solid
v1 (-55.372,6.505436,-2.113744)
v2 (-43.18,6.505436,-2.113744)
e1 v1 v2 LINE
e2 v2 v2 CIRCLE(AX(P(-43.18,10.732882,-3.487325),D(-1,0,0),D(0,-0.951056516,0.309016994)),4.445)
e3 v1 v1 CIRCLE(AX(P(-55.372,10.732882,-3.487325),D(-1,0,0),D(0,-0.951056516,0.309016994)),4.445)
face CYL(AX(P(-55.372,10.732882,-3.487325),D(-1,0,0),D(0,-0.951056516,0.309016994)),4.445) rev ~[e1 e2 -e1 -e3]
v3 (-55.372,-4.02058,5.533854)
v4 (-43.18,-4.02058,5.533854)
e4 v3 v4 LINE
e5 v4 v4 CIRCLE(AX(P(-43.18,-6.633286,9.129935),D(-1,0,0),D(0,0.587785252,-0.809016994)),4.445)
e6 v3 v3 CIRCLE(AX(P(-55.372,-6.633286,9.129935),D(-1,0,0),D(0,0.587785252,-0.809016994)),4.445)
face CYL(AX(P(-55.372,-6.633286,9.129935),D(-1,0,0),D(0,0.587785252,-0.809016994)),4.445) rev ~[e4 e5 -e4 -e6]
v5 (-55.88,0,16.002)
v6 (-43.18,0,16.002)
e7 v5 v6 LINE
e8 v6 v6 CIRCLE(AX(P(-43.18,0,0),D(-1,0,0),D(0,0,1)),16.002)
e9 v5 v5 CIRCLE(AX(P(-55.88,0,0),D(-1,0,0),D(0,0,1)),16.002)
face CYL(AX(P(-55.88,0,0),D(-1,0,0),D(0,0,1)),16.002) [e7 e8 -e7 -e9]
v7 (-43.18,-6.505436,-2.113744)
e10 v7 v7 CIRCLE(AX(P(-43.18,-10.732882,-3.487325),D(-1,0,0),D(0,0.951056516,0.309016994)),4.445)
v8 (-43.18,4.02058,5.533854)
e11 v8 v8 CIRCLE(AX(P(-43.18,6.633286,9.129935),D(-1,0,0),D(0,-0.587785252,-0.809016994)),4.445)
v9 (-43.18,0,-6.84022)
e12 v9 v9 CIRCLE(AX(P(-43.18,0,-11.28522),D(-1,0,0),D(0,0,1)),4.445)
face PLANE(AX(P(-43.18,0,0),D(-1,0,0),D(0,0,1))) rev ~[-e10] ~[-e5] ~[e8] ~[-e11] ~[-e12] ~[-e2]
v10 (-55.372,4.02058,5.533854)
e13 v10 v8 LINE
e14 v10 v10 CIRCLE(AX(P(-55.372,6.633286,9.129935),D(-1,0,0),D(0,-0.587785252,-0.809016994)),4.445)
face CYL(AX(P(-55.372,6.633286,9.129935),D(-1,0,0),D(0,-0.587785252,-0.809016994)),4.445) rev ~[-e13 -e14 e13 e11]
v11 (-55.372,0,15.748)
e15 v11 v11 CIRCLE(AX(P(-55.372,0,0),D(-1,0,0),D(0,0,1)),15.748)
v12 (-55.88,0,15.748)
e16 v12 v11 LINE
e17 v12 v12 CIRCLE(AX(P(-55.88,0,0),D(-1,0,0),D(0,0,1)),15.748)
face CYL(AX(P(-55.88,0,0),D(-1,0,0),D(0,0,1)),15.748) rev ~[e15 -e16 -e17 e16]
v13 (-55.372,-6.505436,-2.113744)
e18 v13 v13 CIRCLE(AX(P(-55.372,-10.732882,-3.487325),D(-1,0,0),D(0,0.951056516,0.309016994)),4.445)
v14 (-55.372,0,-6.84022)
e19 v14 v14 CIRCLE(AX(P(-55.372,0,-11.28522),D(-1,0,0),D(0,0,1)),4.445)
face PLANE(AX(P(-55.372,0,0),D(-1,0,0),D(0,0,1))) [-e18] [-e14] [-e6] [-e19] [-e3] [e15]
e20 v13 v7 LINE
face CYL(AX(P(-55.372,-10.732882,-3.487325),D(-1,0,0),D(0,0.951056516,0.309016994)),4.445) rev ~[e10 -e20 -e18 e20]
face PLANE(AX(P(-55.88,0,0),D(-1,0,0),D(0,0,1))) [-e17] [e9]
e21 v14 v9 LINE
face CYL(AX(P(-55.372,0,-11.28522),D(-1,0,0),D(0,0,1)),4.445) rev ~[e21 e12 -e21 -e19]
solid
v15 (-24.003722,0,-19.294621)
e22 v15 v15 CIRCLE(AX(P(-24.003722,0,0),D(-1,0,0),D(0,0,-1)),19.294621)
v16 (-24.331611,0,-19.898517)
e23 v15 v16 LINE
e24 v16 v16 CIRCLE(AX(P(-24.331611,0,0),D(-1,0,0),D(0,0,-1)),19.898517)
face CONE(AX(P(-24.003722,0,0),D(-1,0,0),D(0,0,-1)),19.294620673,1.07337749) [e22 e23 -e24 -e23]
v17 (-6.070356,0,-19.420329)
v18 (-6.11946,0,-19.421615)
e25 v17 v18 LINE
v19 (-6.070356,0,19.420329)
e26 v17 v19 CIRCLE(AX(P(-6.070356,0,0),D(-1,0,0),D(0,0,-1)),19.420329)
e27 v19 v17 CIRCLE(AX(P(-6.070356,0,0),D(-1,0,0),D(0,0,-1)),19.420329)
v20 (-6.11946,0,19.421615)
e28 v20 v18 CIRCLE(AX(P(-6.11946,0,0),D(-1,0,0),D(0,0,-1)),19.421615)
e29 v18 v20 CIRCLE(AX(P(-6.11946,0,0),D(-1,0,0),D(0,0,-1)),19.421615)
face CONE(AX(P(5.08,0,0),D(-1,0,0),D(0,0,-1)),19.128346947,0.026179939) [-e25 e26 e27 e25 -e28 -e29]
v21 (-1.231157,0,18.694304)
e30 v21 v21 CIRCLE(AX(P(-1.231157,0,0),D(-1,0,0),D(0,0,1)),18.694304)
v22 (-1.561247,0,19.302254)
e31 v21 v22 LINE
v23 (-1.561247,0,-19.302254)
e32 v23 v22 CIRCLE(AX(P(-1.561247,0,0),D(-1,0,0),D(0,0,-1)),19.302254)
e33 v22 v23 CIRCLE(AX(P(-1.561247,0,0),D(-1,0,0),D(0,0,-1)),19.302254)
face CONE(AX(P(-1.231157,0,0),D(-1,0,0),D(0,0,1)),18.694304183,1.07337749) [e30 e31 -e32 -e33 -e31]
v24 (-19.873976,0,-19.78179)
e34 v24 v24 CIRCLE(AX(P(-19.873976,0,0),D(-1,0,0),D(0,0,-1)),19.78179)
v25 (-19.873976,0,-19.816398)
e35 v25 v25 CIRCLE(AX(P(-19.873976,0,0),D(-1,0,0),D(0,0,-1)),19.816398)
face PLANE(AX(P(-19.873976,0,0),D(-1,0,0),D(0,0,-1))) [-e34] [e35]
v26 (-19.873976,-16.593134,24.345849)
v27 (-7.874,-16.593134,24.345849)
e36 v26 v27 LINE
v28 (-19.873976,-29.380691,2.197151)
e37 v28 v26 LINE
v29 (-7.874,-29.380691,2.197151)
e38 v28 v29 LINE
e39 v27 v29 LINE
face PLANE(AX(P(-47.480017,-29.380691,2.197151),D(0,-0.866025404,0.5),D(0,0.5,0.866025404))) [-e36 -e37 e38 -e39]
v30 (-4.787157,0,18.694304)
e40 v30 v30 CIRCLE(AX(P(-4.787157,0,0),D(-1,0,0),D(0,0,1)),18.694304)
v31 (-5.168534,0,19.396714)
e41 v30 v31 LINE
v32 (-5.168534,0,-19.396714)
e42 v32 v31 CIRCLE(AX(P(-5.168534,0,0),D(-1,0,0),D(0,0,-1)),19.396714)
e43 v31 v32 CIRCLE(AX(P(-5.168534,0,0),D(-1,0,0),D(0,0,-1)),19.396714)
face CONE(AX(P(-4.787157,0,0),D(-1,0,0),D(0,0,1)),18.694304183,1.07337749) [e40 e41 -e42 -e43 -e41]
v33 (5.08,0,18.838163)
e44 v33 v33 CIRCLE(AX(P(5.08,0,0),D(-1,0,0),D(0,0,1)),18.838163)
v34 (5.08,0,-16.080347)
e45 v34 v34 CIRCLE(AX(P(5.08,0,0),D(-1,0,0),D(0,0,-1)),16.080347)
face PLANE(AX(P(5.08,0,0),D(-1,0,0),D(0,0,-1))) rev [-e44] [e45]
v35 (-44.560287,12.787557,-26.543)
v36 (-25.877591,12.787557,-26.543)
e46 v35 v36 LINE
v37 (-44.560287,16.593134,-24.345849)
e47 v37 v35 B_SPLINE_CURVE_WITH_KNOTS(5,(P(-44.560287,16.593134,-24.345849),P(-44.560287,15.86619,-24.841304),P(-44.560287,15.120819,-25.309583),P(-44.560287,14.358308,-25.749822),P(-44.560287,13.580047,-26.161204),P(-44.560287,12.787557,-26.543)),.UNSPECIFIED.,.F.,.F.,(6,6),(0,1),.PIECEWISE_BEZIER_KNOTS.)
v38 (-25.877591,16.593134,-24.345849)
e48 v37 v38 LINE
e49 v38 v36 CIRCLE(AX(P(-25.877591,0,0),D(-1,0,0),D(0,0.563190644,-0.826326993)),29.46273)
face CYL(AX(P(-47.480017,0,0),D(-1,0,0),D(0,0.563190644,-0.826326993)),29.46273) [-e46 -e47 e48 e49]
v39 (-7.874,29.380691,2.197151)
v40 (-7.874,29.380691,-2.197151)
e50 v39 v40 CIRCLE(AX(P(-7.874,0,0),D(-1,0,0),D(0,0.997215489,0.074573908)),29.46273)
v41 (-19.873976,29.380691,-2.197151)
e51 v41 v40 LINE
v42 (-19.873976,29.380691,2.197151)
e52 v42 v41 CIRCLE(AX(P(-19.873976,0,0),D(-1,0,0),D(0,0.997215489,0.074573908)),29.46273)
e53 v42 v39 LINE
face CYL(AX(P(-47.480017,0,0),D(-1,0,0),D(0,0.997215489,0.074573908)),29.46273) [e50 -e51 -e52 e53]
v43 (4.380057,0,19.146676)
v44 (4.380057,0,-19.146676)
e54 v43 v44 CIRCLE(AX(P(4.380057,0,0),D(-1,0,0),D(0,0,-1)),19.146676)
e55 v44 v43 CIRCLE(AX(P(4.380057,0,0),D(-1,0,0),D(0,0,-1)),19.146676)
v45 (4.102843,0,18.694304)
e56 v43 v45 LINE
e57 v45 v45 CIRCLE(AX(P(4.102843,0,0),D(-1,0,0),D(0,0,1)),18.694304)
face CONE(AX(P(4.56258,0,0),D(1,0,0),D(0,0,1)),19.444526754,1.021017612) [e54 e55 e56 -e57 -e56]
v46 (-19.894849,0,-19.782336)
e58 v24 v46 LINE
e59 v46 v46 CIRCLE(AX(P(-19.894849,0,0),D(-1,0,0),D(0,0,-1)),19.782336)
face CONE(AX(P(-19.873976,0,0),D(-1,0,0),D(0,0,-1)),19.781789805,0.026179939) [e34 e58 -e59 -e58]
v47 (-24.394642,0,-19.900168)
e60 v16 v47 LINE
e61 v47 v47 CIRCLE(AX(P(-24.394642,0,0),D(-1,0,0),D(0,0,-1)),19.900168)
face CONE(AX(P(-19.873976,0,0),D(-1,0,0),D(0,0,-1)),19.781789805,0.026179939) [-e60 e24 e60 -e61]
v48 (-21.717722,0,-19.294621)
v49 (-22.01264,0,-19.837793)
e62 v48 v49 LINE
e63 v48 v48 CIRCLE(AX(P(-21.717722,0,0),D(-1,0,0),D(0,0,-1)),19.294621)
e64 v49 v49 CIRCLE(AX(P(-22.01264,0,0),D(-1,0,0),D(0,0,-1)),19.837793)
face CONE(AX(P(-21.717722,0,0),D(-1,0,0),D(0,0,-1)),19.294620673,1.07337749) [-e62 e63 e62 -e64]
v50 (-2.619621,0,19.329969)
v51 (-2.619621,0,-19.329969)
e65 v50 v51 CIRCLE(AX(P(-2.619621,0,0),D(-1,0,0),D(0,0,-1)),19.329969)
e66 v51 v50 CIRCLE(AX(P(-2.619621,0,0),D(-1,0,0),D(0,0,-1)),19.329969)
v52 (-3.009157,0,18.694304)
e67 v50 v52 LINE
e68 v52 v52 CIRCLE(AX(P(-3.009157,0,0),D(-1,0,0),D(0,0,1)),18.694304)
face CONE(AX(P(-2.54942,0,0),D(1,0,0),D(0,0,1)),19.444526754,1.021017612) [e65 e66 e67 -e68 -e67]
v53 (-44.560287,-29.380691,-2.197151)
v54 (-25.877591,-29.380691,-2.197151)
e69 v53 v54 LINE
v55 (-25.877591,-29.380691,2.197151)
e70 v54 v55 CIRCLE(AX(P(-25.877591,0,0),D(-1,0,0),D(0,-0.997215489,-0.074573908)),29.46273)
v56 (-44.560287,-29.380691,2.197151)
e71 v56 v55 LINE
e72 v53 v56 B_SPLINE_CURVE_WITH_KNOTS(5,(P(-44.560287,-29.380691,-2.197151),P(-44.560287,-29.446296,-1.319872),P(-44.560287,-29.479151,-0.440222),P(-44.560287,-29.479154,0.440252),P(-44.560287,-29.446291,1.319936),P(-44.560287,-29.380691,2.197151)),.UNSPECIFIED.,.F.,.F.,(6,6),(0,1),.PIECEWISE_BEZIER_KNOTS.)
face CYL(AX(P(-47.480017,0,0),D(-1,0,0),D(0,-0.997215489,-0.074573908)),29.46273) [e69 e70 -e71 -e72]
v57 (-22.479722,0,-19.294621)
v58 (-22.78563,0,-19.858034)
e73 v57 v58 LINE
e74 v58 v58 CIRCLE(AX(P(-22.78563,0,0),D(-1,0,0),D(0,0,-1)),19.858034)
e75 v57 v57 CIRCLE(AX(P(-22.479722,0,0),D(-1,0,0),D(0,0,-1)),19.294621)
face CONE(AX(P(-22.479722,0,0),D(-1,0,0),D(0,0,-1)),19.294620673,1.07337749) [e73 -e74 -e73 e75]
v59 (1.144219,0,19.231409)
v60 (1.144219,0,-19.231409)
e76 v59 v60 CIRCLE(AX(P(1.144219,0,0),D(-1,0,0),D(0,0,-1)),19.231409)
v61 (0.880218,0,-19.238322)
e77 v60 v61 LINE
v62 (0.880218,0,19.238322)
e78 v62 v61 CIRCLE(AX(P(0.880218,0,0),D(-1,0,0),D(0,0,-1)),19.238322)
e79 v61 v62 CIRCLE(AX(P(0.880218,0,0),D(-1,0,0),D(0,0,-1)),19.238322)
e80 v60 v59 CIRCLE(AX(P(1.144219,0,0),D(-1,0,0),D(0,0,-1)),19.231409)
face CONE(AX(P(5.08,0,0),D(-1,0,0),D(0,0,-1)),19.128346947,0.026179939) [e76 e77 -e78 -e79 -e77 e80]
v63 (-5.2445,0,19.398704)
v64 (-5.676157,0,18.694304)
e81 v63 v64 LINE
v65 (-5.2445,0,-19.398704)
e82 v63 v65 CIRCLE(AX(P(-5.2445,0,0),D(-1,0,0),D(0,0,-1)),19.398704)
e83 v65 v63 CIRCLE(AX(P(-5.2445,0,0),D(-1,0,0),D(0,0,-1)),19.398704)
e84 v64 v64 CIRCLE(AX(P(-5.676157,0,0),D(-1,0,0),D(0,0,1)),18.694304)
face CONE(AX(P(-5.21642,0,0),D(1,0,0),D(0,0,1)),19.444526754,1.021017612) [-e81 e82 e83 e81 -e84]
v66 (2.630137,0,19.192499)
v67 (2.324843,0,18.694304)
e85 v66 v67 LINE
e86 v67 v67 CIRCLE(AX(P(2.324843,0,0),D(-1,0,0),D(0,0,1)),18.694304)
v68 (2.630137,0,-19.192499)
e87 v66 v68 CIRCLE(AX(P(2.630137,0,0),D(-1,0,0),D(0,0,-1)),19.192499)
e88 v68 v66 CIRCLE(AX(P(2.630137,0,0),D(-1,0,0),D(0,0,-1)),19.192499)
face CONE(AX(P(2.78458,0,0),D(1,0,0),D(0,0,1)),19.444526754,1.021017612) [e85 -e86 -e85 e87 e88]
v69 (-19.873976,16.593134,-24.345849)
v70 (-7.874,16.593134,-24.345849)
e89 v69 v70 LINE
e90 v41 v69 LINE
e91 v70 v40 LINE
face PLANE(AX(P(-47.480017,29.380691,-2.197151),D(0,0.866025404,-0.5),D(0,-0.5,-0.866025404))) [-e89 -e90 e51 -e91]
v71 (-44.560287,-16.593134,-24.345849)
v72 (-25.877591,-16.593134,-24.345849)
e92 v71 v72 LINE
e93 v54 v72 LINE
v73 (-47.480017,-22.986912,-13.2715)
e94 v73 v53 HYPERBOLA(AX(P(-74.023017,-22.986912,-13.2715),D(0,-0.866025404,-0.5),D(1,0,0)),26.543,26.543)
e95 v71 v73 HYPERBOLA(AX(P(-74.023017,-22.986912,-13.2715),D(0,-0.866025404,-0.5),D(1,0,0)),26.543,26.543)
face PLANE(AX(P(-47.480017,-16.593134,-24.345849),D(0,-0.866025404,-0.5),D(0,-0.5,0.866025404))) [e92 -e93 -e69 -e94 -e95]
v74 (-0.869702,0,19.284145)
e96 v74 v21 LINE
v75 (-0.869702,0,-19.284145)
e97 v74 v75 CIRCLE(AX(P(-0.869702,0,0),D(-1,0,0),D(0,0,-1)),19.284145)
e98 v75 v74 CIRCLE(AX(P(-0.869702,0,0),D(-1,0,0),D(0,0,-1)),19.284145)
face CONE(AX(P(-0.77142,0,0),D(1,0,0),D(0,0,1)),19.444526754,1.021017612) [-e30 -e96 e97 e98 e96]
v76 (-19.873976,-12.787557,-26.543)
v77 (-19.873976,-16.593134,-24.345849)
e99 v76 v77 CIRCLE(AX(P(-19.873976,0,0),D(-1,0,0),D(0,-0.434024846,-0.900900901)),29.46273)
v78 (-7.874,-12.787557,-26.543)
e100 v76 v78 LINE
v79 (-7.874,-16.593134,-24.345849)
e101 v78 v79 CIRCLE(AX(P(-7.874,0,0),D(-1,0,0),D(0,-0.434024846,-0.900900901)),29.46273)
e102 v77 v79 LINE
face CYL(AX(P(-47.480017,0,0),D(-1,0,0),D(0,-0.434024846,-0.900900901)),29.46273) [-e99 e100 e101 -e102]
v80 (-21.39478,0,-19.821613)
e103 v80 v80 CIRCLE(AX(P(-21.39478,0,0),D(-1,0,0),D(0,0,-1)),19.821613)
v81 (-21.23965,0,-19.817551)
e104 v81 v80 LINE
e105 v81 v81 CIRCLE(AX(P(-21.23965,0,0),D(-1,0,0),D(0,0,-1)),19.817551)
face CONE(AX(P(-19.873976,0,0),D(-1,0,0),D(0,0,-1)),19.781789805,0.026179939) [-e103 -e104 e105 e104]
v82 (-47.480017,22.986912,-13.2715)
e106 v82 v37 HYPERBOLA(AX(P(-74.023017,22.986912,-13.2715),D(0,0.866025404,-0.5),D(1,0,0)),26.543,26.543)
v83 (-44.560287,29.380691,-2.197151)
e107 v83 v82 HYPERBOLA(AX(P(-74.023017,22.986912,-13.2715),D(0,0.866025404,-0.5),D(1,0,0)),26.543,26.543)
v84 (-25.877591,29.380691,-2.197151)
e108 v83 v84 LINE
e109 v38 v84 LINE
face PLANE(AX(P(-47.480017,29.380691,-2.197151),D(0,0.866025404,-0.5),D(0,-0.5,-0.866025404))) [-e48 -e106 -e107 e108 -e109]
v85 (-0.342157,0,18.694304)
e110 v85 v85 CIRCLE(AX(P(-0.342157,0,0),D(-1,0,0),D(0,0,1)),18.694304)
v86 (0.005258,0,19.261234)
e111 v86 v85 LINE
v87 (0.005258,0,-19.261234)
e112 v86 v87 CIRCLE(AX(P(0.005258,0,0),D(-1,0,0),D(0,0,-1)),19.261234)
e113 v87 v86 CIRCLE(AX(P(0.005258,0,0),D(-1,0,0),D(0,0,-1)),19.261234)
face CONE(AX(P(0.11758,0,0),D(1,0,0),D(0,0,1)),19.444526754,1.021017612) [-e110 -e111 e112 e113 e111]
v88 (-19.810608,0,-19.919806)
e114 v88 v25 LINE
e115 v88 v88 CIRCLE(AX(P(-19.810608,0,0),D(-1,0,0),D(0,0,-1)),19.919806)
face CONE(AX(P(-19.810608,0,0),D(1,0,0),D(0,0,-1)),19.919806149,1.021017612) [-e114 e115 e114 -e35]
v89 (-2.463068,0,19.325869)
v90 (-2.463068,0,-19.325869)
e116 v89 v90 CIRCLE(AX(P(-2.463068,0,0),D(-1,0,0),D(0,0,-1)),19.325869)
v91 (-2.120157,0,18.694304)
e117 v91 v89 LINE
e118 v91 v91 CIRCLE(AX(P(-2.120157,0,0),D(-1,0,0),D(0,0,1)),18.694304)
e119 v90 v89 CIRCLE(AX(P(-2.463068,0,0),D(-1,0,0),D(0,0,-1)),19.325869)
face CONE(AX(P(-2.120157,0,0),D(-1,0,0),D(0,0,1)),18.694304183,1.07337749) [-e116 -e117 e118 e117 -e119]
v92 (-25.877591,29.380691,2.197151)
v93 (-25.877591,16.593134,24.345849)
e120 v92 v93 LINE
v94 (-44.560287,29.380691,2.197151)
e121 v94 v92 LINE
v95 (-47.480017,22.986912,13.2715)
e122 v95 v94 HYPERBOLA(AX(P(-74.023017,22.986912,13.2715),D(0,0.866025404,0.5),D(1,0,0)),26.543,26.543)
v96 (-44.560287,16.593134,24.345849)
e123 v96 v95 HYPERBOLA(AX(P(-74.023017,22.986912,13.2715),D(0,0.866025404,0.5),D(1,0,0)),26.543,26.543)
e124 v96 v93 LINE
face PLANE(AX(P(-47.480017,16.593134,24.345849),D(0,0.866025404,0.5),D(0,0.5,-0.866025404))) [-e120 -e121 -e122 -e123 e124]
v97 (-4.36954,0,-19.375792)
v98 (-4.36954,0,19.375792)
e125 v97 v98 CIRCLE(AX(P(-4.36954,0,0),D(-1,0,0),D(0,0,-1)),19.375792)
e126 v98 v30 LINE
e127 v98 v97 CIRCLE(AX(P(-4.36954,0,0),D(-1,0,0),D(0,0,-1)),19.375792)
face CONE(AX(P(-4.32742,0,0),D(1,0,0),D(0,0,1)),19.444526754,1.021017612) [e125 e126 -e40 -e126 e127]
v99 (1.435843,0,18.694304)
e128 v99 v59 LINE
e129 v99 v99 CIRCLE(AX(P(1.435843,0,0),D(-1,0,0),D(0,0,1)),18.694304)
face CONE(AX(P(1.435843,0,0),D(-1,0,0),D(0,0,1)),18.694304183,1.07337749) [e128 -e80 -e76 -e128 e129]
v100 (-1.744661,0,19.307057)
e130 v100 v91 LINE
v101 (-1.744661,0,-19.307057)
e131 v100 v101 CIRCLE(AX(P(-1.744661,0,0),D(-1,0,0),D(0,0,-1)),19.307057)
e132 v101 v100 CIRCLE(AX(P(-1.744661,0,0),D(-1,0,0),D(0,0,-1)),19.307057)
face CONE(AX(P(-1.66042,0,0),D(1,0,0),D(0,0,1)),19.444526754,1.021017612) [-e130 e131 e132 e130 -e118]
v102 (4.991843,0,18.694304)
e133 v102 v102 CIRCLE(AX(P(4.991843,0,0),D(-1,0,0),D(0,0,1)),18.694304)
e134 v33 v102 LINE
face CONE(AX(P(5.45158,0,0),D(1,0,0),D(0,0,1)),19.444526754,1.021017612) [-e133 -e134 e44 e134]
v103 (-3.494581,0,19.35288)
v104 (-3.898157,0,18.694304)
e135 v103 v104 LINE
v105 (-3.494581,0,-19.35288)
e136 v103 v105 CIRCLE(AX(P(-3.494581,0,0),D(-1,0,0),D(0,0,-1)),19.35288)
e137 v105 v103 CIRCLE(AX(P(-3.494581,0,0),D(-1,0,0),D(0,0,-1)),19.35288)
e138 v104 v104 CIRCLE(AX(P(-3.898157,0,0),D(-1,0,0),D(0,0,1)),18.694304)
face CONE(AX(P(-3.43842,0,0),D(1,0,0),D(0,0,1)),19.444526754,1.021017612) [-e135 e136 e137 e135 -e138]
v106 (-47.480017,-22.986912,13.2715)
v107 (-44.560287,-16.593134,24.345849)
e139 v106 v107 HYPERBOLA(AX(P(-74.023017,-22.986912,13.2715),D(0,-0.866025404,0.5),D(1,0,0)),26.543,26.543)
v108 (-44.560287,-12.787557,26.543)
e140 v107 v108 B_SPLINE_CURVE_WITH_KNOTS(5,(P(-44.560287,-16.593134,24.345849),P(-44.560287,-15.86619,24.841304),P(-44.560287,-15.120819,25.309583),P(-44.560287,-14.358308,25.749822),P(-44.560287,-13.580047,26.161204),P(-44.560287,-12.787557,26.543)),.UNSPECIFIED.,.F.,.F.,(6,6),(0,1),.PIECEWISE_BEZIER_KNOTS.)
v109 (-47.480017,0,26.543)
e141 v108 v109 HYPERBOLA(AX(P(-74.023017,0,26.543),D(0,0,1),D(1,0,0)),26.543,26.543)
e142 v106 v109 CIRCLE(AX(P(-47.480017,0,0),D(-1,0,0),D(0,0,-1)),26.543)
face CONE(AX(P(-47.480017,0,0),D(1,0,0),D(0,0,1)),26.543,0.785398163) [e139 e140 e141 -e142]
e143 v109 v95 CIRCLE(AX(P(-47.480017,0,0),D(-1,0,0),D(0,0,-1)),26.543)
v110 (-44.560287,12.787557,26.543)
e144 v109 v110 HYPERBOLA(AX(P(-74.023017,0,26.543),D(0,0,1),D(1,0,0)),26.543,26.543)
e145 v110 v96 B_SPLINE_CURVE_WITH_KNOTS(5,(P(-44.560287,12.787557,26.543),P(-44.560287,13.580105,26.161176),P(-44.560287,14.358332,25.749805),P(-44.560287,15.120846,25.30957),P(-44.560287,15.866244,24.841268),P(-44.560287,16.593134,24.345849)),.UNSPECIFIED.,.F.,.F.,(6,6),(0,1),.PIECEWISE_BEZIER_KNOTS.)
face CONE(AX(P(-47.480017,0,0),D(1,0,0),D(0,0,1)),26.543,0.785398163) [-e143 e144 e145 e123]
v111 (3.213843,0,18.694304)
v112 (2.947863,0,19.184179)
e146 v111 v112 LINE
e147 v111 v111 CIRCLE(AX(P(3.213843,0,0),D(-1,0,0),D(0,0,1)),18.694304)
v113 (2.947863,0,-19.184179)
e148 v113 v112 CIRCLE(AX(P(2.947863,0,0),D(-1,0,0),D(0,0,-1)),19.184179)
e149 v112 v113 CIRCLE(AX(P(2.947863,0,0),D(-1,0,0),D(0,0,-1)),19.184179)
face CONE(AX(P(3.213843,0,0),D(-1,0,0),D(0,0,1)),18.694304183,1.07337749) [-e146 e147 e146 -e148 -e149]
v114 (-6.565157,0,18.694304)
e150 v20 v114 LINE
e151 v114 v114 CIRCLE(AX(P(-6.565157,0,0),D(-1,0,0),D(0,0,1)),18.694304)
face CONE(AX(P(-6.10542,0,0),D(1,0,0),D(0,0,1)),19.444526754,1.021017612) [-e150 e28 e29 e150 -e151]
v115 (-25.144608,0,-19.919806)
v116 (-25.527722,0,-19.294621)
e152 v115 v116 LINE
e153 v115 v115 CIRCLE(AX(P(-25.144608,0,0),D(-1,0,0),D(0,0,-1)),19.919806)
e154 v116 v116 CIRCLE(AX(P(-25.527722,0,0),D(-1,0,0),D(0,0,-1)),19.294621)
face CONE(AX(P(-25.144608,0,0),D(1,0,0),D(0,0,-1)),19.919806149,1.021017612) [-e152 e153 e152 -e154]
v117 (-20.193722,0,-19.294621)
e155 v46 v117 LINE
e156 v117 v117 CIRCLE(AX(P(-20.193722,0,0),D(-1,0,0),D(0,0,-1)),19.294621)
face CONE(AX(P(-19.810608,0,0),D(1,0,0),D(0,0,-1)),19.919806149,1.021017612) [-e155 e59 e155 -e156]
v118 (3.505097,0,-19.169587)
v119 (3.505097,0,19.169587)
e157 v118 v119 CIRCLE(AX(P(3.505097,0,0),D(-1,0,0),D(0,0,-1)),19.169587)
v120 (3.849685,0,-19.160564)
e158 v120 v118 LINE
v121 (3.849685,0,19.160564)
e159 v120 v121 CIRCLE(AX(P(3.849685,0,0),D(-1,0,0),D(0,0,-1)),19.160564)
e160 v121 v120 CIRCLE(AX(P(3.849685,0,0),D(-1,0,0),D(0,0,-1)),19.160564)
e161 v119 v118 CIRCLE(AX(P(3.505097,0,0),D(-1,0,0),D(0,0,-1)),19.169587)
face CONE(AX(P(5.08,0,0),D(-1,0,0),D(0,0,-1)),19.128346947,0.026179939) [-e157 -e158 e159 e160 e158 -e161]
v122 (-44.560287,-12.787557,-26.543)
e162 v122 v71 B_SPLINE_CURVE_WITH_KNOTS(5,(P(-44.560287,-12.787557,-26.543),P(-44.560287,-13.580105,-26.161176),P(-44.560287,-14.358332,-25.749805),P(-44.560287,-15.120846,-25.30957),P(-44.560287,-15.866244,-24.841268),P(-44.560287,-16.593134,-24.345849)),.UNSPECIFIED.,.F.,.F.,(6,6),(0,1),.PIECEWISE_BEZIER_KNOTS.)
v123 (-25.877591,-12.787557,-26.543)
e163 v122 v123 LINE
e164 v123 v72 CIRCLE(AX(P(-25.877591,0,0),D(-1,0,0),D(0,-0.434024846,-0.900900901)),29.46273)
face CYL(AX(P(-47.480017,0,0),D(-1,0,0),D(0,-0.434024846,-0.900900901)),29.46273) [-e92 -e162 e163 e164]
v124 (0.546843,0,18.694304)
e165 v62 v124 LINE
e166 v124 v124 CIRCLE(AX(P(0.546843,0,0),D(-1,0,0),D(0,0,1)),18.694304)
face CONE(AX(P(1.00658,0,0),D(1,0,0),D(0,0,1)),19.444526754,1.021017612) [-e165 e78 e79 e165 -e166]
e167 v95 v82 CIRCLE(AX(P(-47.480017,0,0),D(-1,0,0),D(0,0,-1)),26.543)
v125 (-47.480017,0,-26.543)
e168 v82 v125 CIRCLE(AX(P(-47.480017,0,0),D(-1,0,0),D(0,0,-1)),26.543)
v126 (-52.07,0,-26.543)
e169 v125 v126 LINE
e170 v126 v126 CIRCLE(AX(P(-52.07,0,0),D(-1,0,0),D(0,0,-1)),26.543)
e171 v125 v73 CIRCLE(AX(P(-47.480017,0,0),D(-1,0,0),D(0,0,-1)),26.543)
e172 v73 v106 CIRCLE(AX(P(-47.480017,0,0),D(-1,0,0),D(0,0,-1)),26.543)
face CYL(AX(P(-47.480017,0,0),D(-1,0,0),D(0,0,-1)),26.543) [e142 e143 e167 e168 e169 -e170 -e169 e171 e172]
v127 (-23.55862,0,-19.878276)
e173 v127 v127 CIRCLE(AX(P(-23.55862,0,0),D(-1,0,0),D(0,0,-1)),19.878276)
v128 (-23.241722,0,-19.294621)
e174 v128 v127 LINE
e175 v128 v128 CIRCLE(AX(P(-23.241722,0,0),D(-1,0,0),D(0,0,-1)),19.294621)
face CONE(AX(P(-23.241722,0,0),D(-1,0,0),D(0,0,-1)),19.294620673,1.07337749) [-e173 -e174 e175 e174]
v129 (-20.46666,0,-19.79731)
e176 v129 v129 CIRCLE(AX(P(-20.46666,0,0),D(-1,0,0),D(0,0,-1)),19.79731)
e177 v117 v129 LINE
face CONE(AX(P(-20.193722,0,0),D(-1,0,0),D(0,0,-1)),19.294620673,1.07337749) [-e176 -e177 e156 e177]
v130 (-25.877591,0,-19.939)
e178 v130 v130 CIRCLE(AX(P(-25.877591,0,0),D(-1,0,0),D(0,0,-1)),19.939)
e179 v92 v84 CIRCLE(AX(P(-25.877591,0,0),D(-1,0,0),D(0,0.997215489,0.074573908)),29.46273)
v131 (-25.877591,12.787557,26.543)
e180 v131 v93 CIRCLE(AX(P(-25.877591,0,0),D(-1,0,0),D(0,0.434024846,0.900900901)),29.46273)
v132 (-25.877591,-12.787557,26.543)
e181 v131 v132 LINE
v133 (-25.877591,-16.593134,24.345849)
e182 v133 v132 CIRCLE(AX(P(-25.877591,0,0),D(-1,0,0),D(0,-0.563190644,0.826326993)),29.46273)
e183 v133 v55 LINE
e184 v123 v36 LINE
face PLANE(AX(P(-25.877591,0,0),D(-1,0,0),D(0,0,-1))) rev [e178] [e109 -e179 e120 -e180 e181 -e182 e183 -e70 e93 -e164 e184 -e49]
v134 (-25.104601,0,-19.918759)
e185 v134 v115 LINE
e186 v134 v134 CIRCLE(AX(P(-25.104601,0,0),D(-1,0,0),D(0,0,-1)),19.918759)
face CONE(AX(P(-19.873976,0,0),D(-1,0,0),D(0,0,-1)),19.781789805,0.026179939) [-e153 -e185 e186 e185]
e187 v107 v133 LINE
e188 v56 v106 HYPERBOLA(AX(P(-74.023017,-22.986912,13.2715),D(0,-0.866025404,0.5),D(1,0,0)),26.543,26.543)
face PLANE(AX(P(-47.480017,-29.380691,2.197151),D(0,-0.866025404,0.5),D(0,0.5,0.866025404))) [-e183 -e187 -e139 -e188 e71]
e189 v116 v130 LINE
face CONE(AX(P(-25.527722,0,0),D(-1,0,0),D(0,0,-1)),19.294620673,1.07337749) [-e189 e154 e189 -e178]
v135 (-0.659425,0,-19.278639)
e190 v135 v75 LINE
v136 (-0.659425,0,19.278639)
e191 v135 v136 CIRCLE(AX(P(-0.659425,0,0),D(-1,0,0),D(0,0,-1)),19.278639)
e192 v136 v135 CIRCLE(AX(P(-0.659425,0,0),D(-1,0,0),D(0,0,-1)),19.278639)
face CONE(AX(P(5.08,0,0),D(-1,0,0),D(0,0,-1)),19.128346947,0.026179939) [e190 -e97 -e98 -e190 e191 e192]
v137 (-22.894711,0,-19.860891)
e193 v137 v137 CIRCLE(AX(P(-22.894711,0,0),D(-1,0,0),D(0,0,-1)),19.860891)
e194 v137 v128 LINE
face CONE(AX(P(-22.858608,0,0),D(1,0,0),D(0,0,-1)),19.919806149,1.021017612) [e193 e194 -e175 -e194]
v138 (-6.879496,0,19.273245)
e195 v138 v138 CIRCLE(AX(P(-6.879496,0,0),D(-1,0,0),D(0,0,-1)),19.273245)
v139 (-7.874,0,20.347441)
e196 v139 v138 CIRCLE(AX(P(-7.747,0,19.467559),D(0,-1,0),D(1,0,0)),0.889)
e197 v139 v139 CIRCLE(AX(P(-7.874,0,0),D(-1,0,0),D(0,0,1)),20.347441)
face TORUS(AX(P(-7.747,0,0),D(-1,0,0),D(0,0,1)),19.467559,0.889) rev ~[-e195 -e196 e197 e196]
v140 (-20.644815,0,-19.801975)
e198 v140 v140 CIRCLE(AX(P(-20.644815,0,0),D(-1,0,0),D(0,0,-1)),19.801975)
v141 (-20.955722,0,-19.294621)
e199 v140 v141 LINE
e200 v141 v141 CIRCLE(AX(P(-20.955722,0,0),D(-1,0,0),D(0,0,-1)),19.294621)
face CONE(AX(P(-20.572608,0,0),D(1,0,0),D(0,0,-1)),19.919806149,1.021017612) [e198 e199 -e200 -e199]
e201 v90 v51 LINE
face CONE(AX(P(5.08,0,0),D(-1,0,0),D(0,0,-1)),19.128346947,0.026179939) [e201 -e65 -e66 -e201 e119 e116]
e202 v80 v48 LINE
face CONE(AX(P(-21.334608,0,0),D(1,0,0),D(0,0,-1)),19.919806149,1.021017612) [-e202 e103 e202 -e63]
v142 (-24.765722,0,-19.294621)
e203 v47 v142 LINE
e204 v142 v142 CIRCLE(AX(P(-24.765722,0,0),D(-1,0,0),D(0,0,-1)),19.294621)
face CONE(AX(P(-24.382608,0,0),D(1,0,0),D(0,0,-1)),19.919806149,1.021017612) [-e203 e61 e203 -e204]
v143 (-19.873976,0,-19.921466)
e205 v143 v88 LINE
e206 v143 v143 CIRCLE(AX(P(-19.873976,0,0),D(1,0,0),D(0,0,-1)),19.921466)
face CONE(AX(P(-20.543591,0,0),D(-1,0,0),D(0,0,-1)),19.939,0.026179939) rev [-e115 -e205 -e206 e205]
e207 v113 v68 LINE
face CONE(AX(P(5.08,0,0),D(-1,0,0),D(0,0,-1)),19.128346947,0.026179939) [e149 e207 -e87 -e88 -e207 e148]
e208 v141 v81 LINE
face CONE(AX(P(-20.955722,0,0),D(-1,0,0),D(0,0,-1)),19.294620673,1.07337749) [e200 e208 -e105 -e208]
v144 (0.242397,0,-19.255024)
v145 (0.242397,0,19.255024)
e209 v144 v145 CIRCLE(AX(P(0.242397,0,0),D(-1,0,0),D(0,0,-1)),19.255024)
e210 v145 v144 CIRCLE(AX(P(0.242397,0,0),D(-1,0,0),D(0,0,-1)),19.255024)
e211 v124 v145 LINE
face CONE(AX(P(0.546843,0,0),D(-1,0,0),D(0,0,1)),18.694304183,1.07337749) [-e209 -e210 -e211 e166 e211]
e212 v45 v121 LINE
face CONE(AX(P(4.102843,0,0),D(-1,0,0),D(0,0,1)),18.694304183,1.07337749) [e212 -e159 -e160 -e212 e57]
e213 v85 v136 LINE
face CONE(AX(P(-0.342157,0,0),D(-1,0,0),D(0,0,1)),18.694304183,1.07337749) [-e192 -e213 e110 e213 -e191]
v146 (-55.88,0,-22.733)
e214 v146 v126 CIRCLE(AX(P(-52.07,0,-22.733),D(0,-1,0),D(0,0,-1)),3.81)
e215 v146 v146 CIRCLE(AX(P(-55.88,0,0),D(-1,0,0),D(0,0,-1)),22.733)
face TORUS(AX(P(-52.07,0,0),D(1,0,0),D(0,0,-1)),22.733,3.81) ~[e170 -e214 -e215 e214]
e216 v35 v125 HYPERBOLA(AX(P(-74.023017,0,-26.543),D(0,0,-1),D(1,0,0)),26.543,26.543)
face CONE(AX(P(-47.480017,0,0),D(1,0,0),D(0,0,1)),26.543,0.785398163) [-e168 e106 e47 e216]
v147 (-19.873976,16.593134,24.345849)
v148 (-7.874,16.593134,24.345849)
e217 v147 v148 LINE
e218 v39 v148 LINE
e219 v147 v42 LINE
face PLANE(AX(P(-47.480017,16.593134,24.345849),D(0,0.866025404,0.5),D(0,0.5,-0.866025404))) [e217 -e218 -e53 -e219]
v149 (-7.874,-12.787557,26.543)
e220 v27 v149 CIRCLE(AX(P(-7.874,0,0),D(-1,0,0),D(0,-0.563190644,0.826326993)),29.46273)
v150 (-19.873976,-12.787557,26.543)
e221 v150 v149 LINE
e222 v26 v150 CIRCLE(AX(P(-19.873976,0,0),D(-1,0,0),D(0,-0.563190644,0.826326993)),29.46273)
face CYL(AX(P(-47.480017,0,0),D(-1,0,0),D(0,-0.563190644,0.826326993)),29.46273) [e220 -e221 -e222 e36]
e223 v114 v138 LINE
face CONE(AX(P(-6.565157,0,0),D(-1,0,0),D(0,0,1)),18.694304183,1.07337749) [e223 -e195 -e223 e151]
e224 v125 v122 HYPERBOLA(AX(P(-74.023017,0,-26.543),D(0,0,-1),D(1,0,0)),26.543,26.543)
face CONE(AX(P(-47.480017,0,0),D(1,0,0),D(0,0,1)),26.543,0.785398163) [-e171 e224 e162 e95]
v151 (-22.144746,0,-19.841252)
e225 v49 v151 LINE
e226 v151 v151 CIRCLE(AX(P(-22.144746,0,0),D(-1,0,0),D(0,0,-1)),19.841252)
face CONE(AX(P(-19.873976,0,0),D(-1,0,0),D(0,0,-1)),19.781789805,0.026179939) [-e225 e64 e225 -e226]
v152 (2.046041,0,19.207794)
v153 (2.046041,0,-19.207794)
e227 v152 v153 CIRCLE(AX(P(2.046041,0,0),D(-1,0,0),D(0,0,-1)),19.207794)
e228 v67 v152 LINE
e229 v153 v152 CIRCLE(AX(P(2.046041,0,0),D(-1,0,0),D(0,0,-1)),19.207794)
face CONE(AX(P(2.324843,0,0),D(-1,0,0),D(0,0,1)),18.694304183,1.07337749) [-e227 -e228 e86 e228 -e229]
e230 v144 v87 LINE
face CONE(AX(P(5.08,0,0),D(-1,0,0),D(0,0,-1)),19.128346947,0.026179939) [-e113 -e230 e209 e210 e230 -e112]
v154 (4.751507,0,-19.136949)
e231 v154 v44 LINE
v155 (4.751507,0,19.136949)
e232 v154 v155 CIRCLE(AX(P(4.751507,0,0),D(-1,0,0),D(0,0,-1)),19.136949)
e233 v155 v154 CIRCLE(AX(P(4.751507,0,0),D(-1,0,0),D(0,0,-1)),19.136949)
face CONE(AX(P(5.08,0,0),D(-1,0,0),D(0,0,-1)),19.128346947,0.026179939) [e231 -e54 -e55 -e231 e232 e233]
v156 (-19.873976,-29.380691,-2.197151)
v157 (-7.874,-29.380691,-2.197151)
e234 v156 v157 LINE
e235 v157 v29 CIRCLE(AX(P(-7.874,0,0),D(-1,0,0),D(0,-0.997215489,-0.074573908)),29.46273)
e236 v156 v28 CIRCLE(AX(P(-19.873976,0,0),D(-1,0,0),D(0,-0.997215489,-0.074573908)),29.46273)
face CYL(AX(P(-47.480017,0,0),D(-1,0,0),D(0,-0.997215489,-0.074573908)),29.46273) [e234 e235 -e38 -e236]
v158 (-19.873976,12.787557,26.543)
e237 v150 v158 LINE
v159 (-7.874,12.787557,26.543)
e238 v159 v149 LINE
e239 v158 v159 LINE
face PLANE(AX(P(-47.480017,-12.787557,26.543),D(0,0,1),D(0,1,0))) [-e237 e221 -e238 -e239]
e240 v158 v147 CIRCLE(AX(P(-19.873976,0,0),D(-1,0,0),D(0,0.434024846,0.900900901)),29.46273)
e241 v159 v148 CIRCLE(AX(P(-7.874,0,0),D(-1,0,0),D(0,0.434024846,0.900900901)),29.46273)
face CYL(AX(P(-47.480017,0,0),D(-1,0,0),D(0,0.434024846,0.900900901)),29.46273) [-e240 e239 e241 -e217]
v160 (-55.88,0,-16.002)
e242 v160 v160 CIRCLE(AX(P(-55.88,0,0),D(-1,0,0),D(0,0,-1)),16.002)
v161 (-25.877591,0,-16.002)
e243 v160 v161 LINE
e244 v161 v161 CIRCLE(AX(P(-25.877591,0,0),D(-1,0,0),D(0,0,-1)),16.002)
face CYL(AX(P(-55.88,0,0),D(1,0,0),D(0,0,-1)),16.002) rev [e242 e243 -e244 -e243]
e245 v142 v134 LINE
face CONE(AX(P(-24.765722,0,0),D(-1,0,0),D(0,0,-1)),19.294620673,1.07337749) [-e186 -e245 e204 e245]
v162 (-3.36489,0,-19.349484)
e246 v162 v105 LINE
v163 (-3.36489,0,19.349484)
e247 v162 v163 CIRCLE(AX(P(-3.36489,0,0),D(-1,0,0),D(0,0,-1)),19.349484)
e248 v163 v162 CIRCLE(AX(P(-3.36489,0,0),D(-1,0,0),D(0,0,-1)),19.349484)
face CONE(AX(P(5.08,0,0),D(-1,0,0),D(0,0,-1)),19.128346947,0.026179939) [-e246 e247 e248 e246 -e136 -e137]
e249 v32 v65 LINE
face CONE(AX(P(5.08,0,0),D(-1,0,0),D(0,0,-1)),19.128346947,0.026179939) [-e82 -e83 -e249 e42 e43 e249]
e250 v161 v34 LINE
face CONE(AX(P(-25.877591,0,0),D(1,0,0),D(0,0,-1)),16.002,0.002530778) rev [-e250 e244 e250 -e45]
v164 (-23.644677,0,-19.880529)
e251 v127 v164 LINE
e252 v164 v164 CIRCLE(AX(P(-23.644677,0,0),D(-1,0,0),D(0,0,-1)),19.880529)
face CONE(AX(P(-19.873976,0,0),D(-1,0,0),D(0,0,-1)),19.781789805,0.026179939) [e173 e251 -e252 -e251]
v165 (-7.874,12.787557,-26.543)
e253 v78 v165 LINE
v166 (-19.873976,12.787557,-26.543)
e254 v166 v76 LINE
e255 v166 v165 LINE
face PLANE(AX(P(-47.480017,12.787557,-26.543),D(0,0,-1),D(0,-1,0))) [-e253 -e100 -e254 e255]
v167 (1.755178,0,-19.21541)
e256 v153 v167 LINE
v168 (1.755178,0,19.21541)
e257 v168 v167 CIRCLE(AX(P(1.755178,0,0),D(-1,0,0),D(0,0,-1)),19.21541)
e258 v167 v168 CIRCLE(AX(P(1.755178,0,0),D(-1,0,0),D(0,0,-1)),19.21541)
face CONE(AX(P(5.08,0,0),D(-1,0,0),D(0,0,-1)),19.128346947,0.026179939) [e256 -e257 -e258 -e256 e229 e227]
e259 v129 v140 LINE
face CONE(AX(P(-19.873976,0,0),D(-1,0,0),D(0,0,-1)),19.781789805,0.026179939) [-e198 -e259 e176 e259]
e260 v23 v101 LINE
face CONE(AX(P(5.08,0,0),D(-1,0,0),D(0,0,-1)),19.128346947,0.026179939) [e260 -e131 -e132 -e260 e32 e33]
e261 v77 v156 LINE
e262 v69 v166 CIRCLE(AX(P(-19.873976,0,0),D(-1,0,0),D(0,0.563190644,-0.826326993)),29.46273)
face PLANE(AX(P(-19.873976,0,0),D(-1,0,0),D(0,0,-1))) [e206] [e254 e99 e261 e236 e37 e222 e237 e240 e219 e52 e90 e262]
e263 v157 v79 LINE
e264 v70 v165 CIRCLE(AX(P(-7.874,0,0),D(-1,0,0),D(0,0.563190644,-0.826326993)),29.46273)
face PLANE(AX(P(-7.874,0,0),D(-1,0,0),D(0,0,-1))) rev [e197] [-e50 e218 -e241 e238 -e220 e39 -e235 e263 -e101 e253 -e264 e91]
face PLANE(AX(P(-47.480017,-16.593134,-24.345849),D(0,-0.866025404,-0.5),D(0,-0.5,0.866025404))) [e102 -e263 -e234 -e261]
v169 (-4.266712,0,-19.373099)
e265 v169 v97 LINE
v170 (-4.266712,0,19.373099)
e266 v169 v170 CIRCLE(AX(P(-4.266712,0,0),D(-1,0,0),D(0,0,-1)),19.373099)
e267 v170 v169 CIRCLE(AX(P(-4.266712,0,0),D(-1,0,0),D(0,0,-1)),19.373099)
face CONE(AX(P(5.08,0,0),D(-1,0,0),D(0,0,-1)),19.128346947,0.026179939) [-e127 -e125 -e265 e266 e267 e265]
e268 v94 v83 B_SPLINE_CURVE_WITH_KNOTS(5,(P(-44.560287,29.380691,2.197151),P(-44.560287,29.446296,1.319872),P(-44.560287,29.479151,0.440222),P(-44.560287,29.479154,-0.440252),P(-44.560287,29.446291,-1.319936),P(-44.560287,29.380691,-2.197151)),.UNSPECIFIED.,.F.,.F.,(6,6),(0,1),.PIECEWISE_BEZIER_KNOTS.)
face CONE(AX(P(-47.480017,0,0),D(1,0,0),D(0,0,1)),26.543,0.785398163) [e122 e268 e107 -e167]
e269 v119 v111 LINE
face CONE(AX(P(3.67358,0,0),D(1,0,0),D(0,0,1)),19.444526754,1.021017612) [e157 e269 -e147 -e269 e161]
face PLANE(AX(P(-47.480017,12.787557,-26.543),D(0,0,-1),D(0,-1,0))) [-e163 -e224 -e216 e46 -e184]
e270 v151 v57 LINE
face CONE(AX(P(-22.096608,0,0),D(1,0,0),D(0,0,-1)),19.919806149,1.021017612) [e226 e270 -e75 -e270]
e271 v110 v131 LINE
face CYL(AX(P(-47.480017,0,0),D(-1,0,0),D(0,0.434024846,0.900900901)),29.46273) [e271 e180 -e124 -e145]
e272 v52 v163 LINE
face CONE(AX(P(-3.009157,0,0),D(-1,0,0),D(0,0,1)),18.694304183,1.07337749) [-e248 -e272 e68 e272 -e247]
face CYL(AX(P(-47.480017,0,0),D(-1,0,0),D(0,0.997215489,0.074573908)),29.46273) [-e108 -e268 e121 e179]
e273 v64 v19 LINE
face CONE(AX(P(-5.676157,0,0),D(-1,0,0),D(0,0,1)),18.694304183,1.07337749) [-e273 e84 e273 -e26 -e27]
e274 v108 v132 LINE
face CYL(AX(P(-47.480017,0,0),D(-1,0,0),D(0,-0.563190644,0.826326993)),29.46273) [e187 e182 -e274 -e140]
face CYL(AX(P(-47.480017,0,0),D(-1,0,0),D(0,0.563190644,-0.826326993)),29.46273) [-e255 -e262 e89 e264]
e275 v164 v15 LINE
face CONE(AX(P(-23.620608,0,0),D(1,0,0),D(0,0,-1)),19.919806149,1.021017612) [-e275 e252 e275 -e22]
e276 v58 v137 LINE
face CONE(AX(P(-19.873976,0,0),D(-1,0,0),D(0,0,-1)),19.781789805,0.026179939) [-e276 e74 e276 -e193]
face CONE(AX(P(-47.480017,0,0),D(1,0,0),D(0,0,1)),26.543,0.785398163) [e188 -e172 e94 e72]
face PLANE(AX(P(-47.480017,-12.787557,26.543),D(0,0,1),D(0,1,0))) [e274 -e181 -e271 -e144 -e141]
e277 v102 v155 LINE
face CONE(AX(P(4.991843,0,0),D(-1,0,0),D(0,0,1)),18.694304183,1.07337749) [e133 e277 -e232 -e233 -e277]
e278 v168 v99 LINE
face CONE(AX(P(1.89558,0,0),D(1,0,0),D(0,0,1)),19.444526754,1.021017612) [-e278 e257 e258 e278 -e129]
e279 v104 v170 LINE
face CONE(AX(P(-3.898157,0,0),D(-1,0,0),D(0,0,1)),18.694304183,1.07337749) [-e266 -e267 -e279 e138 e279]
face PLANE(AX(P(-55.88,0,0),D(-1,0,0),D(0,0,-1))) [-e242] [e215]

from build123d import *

# Parameters (mm, degrees)
SKETCH12_OUTSIDE_W = 140.582
SKETCH12_OUTSIDE_H = 140.582
CUT_EXTRUDE2_DEPTH = 53.5600168
FILLET4_R          = 3.81
SKETCH19_OUTSIDE_W = 83.088
SKETCH19_OUTSIDE_H = 88.928
SKETCH19_OUTSIDE_R = 26.543
CUT_EXTRUDE3_DEPTH = 3.99796
CUT_EXTRUDE3_DRAFT = -45
CHAMFER1_SIZE      = 0.260919487
CHAMFER1_SIZE2     = 0.254
SKETCH21_R         = 16.002
PLUG_DEPTH         = 12.7
SKETCH22_R         = 15.748
CUT_EXTRUDE4_DEPTH = 0.508
SKETCH27_R         = 4.445
PLUGHOLES_DEPTH    = 61.452
CIRPATTERN1_COUNT  = 5
LPATTERN1_COUNT    = 8
LPATTERN1_PITCH    = 0.762
LPATTERN2_COUNT    = 15
LPATTERN2_PITCH    = 0.889
SKETCH32_R         = 0.889


with BuildPart() as part:
    # Sketch10 → Revolve2 (revolve)
    with BuildSketch(Plane.XY, mode=Mode.PRIVATE) as revolve2_sk:
        Polygon((-55.88, 16.002), (-25.87759112, 16.002), (5.08, 16.080346947), (5.08, 19.128346947), (-7.874, 19.467559375), (-7.874, 53.086), (-19.873976, 53.086), (-19.873976, 19.781789805), (-25.87759112, 19.939), (-25.87759112, 53.086), (-47.4800168, 53.086), (-47.4800168, 26.543), (-55.88, 26.543), align=None)
    revolve(revolve2_sk.sketch.rotate(Axis((0, 0, 0), (-1, 0, 0)), 90), axis=Axis((0, 0, 0), (-1, 0, 0)))  # turned: the seam where the file's is

    # Sketch12 outside → Cut-Extrude2 (cut, through all)
    with BuildSketch(Plane.ZY.offset(47.4800168)):
        Rectangle(SKETCH12_OUTSIDE_W, SKETCH12_OUTSIDE_H)
        with BuildLine():
            Line((-2.19715092, 29.380690715), (-24.34584908, 16.59313387))
            ThreePointArc((-24.34584908, 16.59313387), (-25.515472645, 14.731365), (-26.543, 12.787556845))
            Line((-26.543, 12.787556845), (-26.543, -12.787556845))
            ThreePointArc((-26.543, -12.787556845), (-25.515472645, -14.731365), (-24.34584908, -16.59313387))
            Line((-24.34584908, -16.59313387), (-2.19715092, -29.380690715))
            ThreePointArc((-2.19715092, -29.380690715), (0, -29.46273), (2.19715092, -29.380690715))
            Line((2.19715092, -29.380690715), (24.34584908, -16.59313387))
            ThreePointArc((24.34584908, -16.59313387), (25.515472645, -14.731365), (26.543, -12.787556845))
            Line((26.543, -12.787556845), (26.543, 12.787556845))
            ThreePointArc((26.543, 12.787556845), (25.515472645, 14.731365), (24.34584908, 16.59313387))
            Line((24.34584908, 16.59313387), (2.19715092, 29.380690715))
            ThreePointArc((2.19715092, 29.380690715), (0, 29.46273), (-2.19715092, 29.380690715))
        make_face(mode=Mode.SUBTRACT)
    extrude(amount=-CUT_EXTRUDE2_DEPTH, mode=Mode.SUBTRACT)

    # Fillet4
    fillet4_edges = [part.edges().sort_by_distance(p)[0] for p in [
        (-55.88, 0, 26.543),
    ]]
    fillet(fillet4_edges, radius=FILLET4_R)


with BuildPart() as cut_extrude3_tool:
    # Sketch19 outside → Cut-Extrude3 (with draft: the straight prism first)
    with BuildSketch(Plane.ZY.offset(47.4800168)):
        Rectangle(SKETCH19_OUTSIDE_W, SKETCH19_OUTSIDE_H)
        Circle(SKETCH19_OUTSIDE_R, mode=Mode.SUBTRACT)
    extrude(amount=-CUT_EXTRUDE3_DEPTH)
    # Cut-Extrude3: the draft: its side faces are tilted about the plane it starts from
    cut_extrude3_sides = [cut_extrude3_tool.faces().sort_by_distance(p)[0] for p in [
        (-45.4810368, -44.464, 0),
        (-45.4810368, 0, 41.544),
        (-45.4810368, 44.464, 0),
        (-45.4810368, 0, -41.544),
        (-45.4810368, 0, -26.543),
    ]]
    draft(cut_extrude3_sides, Plane.ZY.offset(47.4800168), CUT_EXTRUDE3_DRAFT)


with BuildPart() as part_1:
    add(part.part)

    # Cut-Extrude3: cut by cut_extrude3_tool
    add(cut_extrude3_tool.part, mode=Mode.SUBTRACT)

    # Chamfer1
    chamfer1_edges = [part_1.edges().sort_by_distance(p)[0] for p in [
        (5.08, 0, 19.128346947),
    ]]
    chamfer1_side = [part_1.faces().sort_by_distance(p)[0] for p in [
        (5.08, 0, 16.621378301),
    ]]
    chamfer(chamfer1_edges, length=CHAMFER1_SIZE, length2=CHAMFER1_SIZE2, reference=chamfer1_side[0])

    # Sketch29 → Cut-Revolve1 (revolve, cut)
    with BuildSketch(Plane.XY, mode=Mode.PRIVATE) as cut_revolve1_sk:
        Polygon((-25.87759112, 19.939), (-25.144607539, 19.919806149), (-25.527721692, 19.294620673), align=None)
    cut_revolve1 = revolve(cut_revolve1_sk.sketch.rotate(Axis((0, 0, 0), (-1, 0, 0)), 90), axis=Axis((0, 0, 0), (-1, 0, 0)), mode=Mode.SUBTRACT)  # turned: the seam where the file's is

    # LPattern1: Cut-Revolve1 ×8
    with Locations(*[(i * LPATTERN1_PITCH, 0, 0) for i in range(1, LPATTERN1_COUNT)]):
        add(cut_revolve1, mode=Mode.SUBTRACT)

    # Sketch30 → Cut-Revolve2 (revolve, cut)
    with BuildSketch(Plane.XY, mode=Mode.PRIVATE) as cut_revolve2_sk:
        Polygon((-7.874, 19.467559375), (-6.994419703, 19.444526754), (-7.454156686, 18.694304183), align=None)
    cut_revolve2 = revolve(cut_revolve2_sk.sketch.rotate(Axis((0, 0, 0), (-1, 0, 0)), 270), axis=Axis((0, 0, 0), (-1, 0, 0)), mode=Mode.SUBTRACT)  # turned: the seam where the file's is

    # LPattern2: Cut-Revolve2 ×15
    with Locations(*[(i * LPATTERN2_PITCH, 0, 0) for i in range(1, LPATTERN2_COUNT)]):
        add(cut_revolve2, mode=Mode.SUBTRACT)

    # Sketch32 → Cut-Revolve3 (revolve, cut)
    with BuildSketch(Plane.XY, mode=Mode.PRIVATE) as cut_revolve3_sk:
        with Locations((-7.747, 19.467559375)):
            Circle(SKETCH32_R)
    revolve(cut_revolve3_sk.sketch.rotate(Axis((0, 0, 0), (-1, 0, 0)), 270), axis=Axis((0, 0, 0), (-1, 0, 0)), mode=Mode.SUBTRACT)  # turned: the seam where the file's is


with BuildPart() as body_2:
    # Sketch21 → plug (new body)
    with BuildSketch(Plane.ZY.offset(55.88)):
        Circle(SKETCH21_R)
    extrude(amount=-PLUG_DEPTH)

    # Sketch22 → Cut-Extrude4 (cut)
    with BuildSketch(Plane.ZY.offset(55.88)):
        Circle(SKETCH22_R)
    extrude(amount=-CUT_EXTRUDE4_DEPTH, mode=Mode.SUBTRACT)

    # Sketch27 → plugholes (cut, through all)
    with BuildSketch(Plane.ZY.offset(55.372)):
        with Locations((-11.28522, 0)):
            Circle(SKETCH27_R)
    plugholes = extrude(amount=-PLUGHOLES_DEPTH, mode=Mode.SUBTRACT)

    # CirPattern1: plugholes ×5 about axis
    cirpattern1_axis = Axis((0, 0, 0), (1, 0, 0))
    for i in range(1, CIRPATTERN1_COUNT):
        add(plugholes.rotate(cirpattern1_axis, i * 360 / CIRPATTERN1_COUNT), mode=Mode.SUBTRACT)


solid = Compound([part_1.part, body_2.part])
